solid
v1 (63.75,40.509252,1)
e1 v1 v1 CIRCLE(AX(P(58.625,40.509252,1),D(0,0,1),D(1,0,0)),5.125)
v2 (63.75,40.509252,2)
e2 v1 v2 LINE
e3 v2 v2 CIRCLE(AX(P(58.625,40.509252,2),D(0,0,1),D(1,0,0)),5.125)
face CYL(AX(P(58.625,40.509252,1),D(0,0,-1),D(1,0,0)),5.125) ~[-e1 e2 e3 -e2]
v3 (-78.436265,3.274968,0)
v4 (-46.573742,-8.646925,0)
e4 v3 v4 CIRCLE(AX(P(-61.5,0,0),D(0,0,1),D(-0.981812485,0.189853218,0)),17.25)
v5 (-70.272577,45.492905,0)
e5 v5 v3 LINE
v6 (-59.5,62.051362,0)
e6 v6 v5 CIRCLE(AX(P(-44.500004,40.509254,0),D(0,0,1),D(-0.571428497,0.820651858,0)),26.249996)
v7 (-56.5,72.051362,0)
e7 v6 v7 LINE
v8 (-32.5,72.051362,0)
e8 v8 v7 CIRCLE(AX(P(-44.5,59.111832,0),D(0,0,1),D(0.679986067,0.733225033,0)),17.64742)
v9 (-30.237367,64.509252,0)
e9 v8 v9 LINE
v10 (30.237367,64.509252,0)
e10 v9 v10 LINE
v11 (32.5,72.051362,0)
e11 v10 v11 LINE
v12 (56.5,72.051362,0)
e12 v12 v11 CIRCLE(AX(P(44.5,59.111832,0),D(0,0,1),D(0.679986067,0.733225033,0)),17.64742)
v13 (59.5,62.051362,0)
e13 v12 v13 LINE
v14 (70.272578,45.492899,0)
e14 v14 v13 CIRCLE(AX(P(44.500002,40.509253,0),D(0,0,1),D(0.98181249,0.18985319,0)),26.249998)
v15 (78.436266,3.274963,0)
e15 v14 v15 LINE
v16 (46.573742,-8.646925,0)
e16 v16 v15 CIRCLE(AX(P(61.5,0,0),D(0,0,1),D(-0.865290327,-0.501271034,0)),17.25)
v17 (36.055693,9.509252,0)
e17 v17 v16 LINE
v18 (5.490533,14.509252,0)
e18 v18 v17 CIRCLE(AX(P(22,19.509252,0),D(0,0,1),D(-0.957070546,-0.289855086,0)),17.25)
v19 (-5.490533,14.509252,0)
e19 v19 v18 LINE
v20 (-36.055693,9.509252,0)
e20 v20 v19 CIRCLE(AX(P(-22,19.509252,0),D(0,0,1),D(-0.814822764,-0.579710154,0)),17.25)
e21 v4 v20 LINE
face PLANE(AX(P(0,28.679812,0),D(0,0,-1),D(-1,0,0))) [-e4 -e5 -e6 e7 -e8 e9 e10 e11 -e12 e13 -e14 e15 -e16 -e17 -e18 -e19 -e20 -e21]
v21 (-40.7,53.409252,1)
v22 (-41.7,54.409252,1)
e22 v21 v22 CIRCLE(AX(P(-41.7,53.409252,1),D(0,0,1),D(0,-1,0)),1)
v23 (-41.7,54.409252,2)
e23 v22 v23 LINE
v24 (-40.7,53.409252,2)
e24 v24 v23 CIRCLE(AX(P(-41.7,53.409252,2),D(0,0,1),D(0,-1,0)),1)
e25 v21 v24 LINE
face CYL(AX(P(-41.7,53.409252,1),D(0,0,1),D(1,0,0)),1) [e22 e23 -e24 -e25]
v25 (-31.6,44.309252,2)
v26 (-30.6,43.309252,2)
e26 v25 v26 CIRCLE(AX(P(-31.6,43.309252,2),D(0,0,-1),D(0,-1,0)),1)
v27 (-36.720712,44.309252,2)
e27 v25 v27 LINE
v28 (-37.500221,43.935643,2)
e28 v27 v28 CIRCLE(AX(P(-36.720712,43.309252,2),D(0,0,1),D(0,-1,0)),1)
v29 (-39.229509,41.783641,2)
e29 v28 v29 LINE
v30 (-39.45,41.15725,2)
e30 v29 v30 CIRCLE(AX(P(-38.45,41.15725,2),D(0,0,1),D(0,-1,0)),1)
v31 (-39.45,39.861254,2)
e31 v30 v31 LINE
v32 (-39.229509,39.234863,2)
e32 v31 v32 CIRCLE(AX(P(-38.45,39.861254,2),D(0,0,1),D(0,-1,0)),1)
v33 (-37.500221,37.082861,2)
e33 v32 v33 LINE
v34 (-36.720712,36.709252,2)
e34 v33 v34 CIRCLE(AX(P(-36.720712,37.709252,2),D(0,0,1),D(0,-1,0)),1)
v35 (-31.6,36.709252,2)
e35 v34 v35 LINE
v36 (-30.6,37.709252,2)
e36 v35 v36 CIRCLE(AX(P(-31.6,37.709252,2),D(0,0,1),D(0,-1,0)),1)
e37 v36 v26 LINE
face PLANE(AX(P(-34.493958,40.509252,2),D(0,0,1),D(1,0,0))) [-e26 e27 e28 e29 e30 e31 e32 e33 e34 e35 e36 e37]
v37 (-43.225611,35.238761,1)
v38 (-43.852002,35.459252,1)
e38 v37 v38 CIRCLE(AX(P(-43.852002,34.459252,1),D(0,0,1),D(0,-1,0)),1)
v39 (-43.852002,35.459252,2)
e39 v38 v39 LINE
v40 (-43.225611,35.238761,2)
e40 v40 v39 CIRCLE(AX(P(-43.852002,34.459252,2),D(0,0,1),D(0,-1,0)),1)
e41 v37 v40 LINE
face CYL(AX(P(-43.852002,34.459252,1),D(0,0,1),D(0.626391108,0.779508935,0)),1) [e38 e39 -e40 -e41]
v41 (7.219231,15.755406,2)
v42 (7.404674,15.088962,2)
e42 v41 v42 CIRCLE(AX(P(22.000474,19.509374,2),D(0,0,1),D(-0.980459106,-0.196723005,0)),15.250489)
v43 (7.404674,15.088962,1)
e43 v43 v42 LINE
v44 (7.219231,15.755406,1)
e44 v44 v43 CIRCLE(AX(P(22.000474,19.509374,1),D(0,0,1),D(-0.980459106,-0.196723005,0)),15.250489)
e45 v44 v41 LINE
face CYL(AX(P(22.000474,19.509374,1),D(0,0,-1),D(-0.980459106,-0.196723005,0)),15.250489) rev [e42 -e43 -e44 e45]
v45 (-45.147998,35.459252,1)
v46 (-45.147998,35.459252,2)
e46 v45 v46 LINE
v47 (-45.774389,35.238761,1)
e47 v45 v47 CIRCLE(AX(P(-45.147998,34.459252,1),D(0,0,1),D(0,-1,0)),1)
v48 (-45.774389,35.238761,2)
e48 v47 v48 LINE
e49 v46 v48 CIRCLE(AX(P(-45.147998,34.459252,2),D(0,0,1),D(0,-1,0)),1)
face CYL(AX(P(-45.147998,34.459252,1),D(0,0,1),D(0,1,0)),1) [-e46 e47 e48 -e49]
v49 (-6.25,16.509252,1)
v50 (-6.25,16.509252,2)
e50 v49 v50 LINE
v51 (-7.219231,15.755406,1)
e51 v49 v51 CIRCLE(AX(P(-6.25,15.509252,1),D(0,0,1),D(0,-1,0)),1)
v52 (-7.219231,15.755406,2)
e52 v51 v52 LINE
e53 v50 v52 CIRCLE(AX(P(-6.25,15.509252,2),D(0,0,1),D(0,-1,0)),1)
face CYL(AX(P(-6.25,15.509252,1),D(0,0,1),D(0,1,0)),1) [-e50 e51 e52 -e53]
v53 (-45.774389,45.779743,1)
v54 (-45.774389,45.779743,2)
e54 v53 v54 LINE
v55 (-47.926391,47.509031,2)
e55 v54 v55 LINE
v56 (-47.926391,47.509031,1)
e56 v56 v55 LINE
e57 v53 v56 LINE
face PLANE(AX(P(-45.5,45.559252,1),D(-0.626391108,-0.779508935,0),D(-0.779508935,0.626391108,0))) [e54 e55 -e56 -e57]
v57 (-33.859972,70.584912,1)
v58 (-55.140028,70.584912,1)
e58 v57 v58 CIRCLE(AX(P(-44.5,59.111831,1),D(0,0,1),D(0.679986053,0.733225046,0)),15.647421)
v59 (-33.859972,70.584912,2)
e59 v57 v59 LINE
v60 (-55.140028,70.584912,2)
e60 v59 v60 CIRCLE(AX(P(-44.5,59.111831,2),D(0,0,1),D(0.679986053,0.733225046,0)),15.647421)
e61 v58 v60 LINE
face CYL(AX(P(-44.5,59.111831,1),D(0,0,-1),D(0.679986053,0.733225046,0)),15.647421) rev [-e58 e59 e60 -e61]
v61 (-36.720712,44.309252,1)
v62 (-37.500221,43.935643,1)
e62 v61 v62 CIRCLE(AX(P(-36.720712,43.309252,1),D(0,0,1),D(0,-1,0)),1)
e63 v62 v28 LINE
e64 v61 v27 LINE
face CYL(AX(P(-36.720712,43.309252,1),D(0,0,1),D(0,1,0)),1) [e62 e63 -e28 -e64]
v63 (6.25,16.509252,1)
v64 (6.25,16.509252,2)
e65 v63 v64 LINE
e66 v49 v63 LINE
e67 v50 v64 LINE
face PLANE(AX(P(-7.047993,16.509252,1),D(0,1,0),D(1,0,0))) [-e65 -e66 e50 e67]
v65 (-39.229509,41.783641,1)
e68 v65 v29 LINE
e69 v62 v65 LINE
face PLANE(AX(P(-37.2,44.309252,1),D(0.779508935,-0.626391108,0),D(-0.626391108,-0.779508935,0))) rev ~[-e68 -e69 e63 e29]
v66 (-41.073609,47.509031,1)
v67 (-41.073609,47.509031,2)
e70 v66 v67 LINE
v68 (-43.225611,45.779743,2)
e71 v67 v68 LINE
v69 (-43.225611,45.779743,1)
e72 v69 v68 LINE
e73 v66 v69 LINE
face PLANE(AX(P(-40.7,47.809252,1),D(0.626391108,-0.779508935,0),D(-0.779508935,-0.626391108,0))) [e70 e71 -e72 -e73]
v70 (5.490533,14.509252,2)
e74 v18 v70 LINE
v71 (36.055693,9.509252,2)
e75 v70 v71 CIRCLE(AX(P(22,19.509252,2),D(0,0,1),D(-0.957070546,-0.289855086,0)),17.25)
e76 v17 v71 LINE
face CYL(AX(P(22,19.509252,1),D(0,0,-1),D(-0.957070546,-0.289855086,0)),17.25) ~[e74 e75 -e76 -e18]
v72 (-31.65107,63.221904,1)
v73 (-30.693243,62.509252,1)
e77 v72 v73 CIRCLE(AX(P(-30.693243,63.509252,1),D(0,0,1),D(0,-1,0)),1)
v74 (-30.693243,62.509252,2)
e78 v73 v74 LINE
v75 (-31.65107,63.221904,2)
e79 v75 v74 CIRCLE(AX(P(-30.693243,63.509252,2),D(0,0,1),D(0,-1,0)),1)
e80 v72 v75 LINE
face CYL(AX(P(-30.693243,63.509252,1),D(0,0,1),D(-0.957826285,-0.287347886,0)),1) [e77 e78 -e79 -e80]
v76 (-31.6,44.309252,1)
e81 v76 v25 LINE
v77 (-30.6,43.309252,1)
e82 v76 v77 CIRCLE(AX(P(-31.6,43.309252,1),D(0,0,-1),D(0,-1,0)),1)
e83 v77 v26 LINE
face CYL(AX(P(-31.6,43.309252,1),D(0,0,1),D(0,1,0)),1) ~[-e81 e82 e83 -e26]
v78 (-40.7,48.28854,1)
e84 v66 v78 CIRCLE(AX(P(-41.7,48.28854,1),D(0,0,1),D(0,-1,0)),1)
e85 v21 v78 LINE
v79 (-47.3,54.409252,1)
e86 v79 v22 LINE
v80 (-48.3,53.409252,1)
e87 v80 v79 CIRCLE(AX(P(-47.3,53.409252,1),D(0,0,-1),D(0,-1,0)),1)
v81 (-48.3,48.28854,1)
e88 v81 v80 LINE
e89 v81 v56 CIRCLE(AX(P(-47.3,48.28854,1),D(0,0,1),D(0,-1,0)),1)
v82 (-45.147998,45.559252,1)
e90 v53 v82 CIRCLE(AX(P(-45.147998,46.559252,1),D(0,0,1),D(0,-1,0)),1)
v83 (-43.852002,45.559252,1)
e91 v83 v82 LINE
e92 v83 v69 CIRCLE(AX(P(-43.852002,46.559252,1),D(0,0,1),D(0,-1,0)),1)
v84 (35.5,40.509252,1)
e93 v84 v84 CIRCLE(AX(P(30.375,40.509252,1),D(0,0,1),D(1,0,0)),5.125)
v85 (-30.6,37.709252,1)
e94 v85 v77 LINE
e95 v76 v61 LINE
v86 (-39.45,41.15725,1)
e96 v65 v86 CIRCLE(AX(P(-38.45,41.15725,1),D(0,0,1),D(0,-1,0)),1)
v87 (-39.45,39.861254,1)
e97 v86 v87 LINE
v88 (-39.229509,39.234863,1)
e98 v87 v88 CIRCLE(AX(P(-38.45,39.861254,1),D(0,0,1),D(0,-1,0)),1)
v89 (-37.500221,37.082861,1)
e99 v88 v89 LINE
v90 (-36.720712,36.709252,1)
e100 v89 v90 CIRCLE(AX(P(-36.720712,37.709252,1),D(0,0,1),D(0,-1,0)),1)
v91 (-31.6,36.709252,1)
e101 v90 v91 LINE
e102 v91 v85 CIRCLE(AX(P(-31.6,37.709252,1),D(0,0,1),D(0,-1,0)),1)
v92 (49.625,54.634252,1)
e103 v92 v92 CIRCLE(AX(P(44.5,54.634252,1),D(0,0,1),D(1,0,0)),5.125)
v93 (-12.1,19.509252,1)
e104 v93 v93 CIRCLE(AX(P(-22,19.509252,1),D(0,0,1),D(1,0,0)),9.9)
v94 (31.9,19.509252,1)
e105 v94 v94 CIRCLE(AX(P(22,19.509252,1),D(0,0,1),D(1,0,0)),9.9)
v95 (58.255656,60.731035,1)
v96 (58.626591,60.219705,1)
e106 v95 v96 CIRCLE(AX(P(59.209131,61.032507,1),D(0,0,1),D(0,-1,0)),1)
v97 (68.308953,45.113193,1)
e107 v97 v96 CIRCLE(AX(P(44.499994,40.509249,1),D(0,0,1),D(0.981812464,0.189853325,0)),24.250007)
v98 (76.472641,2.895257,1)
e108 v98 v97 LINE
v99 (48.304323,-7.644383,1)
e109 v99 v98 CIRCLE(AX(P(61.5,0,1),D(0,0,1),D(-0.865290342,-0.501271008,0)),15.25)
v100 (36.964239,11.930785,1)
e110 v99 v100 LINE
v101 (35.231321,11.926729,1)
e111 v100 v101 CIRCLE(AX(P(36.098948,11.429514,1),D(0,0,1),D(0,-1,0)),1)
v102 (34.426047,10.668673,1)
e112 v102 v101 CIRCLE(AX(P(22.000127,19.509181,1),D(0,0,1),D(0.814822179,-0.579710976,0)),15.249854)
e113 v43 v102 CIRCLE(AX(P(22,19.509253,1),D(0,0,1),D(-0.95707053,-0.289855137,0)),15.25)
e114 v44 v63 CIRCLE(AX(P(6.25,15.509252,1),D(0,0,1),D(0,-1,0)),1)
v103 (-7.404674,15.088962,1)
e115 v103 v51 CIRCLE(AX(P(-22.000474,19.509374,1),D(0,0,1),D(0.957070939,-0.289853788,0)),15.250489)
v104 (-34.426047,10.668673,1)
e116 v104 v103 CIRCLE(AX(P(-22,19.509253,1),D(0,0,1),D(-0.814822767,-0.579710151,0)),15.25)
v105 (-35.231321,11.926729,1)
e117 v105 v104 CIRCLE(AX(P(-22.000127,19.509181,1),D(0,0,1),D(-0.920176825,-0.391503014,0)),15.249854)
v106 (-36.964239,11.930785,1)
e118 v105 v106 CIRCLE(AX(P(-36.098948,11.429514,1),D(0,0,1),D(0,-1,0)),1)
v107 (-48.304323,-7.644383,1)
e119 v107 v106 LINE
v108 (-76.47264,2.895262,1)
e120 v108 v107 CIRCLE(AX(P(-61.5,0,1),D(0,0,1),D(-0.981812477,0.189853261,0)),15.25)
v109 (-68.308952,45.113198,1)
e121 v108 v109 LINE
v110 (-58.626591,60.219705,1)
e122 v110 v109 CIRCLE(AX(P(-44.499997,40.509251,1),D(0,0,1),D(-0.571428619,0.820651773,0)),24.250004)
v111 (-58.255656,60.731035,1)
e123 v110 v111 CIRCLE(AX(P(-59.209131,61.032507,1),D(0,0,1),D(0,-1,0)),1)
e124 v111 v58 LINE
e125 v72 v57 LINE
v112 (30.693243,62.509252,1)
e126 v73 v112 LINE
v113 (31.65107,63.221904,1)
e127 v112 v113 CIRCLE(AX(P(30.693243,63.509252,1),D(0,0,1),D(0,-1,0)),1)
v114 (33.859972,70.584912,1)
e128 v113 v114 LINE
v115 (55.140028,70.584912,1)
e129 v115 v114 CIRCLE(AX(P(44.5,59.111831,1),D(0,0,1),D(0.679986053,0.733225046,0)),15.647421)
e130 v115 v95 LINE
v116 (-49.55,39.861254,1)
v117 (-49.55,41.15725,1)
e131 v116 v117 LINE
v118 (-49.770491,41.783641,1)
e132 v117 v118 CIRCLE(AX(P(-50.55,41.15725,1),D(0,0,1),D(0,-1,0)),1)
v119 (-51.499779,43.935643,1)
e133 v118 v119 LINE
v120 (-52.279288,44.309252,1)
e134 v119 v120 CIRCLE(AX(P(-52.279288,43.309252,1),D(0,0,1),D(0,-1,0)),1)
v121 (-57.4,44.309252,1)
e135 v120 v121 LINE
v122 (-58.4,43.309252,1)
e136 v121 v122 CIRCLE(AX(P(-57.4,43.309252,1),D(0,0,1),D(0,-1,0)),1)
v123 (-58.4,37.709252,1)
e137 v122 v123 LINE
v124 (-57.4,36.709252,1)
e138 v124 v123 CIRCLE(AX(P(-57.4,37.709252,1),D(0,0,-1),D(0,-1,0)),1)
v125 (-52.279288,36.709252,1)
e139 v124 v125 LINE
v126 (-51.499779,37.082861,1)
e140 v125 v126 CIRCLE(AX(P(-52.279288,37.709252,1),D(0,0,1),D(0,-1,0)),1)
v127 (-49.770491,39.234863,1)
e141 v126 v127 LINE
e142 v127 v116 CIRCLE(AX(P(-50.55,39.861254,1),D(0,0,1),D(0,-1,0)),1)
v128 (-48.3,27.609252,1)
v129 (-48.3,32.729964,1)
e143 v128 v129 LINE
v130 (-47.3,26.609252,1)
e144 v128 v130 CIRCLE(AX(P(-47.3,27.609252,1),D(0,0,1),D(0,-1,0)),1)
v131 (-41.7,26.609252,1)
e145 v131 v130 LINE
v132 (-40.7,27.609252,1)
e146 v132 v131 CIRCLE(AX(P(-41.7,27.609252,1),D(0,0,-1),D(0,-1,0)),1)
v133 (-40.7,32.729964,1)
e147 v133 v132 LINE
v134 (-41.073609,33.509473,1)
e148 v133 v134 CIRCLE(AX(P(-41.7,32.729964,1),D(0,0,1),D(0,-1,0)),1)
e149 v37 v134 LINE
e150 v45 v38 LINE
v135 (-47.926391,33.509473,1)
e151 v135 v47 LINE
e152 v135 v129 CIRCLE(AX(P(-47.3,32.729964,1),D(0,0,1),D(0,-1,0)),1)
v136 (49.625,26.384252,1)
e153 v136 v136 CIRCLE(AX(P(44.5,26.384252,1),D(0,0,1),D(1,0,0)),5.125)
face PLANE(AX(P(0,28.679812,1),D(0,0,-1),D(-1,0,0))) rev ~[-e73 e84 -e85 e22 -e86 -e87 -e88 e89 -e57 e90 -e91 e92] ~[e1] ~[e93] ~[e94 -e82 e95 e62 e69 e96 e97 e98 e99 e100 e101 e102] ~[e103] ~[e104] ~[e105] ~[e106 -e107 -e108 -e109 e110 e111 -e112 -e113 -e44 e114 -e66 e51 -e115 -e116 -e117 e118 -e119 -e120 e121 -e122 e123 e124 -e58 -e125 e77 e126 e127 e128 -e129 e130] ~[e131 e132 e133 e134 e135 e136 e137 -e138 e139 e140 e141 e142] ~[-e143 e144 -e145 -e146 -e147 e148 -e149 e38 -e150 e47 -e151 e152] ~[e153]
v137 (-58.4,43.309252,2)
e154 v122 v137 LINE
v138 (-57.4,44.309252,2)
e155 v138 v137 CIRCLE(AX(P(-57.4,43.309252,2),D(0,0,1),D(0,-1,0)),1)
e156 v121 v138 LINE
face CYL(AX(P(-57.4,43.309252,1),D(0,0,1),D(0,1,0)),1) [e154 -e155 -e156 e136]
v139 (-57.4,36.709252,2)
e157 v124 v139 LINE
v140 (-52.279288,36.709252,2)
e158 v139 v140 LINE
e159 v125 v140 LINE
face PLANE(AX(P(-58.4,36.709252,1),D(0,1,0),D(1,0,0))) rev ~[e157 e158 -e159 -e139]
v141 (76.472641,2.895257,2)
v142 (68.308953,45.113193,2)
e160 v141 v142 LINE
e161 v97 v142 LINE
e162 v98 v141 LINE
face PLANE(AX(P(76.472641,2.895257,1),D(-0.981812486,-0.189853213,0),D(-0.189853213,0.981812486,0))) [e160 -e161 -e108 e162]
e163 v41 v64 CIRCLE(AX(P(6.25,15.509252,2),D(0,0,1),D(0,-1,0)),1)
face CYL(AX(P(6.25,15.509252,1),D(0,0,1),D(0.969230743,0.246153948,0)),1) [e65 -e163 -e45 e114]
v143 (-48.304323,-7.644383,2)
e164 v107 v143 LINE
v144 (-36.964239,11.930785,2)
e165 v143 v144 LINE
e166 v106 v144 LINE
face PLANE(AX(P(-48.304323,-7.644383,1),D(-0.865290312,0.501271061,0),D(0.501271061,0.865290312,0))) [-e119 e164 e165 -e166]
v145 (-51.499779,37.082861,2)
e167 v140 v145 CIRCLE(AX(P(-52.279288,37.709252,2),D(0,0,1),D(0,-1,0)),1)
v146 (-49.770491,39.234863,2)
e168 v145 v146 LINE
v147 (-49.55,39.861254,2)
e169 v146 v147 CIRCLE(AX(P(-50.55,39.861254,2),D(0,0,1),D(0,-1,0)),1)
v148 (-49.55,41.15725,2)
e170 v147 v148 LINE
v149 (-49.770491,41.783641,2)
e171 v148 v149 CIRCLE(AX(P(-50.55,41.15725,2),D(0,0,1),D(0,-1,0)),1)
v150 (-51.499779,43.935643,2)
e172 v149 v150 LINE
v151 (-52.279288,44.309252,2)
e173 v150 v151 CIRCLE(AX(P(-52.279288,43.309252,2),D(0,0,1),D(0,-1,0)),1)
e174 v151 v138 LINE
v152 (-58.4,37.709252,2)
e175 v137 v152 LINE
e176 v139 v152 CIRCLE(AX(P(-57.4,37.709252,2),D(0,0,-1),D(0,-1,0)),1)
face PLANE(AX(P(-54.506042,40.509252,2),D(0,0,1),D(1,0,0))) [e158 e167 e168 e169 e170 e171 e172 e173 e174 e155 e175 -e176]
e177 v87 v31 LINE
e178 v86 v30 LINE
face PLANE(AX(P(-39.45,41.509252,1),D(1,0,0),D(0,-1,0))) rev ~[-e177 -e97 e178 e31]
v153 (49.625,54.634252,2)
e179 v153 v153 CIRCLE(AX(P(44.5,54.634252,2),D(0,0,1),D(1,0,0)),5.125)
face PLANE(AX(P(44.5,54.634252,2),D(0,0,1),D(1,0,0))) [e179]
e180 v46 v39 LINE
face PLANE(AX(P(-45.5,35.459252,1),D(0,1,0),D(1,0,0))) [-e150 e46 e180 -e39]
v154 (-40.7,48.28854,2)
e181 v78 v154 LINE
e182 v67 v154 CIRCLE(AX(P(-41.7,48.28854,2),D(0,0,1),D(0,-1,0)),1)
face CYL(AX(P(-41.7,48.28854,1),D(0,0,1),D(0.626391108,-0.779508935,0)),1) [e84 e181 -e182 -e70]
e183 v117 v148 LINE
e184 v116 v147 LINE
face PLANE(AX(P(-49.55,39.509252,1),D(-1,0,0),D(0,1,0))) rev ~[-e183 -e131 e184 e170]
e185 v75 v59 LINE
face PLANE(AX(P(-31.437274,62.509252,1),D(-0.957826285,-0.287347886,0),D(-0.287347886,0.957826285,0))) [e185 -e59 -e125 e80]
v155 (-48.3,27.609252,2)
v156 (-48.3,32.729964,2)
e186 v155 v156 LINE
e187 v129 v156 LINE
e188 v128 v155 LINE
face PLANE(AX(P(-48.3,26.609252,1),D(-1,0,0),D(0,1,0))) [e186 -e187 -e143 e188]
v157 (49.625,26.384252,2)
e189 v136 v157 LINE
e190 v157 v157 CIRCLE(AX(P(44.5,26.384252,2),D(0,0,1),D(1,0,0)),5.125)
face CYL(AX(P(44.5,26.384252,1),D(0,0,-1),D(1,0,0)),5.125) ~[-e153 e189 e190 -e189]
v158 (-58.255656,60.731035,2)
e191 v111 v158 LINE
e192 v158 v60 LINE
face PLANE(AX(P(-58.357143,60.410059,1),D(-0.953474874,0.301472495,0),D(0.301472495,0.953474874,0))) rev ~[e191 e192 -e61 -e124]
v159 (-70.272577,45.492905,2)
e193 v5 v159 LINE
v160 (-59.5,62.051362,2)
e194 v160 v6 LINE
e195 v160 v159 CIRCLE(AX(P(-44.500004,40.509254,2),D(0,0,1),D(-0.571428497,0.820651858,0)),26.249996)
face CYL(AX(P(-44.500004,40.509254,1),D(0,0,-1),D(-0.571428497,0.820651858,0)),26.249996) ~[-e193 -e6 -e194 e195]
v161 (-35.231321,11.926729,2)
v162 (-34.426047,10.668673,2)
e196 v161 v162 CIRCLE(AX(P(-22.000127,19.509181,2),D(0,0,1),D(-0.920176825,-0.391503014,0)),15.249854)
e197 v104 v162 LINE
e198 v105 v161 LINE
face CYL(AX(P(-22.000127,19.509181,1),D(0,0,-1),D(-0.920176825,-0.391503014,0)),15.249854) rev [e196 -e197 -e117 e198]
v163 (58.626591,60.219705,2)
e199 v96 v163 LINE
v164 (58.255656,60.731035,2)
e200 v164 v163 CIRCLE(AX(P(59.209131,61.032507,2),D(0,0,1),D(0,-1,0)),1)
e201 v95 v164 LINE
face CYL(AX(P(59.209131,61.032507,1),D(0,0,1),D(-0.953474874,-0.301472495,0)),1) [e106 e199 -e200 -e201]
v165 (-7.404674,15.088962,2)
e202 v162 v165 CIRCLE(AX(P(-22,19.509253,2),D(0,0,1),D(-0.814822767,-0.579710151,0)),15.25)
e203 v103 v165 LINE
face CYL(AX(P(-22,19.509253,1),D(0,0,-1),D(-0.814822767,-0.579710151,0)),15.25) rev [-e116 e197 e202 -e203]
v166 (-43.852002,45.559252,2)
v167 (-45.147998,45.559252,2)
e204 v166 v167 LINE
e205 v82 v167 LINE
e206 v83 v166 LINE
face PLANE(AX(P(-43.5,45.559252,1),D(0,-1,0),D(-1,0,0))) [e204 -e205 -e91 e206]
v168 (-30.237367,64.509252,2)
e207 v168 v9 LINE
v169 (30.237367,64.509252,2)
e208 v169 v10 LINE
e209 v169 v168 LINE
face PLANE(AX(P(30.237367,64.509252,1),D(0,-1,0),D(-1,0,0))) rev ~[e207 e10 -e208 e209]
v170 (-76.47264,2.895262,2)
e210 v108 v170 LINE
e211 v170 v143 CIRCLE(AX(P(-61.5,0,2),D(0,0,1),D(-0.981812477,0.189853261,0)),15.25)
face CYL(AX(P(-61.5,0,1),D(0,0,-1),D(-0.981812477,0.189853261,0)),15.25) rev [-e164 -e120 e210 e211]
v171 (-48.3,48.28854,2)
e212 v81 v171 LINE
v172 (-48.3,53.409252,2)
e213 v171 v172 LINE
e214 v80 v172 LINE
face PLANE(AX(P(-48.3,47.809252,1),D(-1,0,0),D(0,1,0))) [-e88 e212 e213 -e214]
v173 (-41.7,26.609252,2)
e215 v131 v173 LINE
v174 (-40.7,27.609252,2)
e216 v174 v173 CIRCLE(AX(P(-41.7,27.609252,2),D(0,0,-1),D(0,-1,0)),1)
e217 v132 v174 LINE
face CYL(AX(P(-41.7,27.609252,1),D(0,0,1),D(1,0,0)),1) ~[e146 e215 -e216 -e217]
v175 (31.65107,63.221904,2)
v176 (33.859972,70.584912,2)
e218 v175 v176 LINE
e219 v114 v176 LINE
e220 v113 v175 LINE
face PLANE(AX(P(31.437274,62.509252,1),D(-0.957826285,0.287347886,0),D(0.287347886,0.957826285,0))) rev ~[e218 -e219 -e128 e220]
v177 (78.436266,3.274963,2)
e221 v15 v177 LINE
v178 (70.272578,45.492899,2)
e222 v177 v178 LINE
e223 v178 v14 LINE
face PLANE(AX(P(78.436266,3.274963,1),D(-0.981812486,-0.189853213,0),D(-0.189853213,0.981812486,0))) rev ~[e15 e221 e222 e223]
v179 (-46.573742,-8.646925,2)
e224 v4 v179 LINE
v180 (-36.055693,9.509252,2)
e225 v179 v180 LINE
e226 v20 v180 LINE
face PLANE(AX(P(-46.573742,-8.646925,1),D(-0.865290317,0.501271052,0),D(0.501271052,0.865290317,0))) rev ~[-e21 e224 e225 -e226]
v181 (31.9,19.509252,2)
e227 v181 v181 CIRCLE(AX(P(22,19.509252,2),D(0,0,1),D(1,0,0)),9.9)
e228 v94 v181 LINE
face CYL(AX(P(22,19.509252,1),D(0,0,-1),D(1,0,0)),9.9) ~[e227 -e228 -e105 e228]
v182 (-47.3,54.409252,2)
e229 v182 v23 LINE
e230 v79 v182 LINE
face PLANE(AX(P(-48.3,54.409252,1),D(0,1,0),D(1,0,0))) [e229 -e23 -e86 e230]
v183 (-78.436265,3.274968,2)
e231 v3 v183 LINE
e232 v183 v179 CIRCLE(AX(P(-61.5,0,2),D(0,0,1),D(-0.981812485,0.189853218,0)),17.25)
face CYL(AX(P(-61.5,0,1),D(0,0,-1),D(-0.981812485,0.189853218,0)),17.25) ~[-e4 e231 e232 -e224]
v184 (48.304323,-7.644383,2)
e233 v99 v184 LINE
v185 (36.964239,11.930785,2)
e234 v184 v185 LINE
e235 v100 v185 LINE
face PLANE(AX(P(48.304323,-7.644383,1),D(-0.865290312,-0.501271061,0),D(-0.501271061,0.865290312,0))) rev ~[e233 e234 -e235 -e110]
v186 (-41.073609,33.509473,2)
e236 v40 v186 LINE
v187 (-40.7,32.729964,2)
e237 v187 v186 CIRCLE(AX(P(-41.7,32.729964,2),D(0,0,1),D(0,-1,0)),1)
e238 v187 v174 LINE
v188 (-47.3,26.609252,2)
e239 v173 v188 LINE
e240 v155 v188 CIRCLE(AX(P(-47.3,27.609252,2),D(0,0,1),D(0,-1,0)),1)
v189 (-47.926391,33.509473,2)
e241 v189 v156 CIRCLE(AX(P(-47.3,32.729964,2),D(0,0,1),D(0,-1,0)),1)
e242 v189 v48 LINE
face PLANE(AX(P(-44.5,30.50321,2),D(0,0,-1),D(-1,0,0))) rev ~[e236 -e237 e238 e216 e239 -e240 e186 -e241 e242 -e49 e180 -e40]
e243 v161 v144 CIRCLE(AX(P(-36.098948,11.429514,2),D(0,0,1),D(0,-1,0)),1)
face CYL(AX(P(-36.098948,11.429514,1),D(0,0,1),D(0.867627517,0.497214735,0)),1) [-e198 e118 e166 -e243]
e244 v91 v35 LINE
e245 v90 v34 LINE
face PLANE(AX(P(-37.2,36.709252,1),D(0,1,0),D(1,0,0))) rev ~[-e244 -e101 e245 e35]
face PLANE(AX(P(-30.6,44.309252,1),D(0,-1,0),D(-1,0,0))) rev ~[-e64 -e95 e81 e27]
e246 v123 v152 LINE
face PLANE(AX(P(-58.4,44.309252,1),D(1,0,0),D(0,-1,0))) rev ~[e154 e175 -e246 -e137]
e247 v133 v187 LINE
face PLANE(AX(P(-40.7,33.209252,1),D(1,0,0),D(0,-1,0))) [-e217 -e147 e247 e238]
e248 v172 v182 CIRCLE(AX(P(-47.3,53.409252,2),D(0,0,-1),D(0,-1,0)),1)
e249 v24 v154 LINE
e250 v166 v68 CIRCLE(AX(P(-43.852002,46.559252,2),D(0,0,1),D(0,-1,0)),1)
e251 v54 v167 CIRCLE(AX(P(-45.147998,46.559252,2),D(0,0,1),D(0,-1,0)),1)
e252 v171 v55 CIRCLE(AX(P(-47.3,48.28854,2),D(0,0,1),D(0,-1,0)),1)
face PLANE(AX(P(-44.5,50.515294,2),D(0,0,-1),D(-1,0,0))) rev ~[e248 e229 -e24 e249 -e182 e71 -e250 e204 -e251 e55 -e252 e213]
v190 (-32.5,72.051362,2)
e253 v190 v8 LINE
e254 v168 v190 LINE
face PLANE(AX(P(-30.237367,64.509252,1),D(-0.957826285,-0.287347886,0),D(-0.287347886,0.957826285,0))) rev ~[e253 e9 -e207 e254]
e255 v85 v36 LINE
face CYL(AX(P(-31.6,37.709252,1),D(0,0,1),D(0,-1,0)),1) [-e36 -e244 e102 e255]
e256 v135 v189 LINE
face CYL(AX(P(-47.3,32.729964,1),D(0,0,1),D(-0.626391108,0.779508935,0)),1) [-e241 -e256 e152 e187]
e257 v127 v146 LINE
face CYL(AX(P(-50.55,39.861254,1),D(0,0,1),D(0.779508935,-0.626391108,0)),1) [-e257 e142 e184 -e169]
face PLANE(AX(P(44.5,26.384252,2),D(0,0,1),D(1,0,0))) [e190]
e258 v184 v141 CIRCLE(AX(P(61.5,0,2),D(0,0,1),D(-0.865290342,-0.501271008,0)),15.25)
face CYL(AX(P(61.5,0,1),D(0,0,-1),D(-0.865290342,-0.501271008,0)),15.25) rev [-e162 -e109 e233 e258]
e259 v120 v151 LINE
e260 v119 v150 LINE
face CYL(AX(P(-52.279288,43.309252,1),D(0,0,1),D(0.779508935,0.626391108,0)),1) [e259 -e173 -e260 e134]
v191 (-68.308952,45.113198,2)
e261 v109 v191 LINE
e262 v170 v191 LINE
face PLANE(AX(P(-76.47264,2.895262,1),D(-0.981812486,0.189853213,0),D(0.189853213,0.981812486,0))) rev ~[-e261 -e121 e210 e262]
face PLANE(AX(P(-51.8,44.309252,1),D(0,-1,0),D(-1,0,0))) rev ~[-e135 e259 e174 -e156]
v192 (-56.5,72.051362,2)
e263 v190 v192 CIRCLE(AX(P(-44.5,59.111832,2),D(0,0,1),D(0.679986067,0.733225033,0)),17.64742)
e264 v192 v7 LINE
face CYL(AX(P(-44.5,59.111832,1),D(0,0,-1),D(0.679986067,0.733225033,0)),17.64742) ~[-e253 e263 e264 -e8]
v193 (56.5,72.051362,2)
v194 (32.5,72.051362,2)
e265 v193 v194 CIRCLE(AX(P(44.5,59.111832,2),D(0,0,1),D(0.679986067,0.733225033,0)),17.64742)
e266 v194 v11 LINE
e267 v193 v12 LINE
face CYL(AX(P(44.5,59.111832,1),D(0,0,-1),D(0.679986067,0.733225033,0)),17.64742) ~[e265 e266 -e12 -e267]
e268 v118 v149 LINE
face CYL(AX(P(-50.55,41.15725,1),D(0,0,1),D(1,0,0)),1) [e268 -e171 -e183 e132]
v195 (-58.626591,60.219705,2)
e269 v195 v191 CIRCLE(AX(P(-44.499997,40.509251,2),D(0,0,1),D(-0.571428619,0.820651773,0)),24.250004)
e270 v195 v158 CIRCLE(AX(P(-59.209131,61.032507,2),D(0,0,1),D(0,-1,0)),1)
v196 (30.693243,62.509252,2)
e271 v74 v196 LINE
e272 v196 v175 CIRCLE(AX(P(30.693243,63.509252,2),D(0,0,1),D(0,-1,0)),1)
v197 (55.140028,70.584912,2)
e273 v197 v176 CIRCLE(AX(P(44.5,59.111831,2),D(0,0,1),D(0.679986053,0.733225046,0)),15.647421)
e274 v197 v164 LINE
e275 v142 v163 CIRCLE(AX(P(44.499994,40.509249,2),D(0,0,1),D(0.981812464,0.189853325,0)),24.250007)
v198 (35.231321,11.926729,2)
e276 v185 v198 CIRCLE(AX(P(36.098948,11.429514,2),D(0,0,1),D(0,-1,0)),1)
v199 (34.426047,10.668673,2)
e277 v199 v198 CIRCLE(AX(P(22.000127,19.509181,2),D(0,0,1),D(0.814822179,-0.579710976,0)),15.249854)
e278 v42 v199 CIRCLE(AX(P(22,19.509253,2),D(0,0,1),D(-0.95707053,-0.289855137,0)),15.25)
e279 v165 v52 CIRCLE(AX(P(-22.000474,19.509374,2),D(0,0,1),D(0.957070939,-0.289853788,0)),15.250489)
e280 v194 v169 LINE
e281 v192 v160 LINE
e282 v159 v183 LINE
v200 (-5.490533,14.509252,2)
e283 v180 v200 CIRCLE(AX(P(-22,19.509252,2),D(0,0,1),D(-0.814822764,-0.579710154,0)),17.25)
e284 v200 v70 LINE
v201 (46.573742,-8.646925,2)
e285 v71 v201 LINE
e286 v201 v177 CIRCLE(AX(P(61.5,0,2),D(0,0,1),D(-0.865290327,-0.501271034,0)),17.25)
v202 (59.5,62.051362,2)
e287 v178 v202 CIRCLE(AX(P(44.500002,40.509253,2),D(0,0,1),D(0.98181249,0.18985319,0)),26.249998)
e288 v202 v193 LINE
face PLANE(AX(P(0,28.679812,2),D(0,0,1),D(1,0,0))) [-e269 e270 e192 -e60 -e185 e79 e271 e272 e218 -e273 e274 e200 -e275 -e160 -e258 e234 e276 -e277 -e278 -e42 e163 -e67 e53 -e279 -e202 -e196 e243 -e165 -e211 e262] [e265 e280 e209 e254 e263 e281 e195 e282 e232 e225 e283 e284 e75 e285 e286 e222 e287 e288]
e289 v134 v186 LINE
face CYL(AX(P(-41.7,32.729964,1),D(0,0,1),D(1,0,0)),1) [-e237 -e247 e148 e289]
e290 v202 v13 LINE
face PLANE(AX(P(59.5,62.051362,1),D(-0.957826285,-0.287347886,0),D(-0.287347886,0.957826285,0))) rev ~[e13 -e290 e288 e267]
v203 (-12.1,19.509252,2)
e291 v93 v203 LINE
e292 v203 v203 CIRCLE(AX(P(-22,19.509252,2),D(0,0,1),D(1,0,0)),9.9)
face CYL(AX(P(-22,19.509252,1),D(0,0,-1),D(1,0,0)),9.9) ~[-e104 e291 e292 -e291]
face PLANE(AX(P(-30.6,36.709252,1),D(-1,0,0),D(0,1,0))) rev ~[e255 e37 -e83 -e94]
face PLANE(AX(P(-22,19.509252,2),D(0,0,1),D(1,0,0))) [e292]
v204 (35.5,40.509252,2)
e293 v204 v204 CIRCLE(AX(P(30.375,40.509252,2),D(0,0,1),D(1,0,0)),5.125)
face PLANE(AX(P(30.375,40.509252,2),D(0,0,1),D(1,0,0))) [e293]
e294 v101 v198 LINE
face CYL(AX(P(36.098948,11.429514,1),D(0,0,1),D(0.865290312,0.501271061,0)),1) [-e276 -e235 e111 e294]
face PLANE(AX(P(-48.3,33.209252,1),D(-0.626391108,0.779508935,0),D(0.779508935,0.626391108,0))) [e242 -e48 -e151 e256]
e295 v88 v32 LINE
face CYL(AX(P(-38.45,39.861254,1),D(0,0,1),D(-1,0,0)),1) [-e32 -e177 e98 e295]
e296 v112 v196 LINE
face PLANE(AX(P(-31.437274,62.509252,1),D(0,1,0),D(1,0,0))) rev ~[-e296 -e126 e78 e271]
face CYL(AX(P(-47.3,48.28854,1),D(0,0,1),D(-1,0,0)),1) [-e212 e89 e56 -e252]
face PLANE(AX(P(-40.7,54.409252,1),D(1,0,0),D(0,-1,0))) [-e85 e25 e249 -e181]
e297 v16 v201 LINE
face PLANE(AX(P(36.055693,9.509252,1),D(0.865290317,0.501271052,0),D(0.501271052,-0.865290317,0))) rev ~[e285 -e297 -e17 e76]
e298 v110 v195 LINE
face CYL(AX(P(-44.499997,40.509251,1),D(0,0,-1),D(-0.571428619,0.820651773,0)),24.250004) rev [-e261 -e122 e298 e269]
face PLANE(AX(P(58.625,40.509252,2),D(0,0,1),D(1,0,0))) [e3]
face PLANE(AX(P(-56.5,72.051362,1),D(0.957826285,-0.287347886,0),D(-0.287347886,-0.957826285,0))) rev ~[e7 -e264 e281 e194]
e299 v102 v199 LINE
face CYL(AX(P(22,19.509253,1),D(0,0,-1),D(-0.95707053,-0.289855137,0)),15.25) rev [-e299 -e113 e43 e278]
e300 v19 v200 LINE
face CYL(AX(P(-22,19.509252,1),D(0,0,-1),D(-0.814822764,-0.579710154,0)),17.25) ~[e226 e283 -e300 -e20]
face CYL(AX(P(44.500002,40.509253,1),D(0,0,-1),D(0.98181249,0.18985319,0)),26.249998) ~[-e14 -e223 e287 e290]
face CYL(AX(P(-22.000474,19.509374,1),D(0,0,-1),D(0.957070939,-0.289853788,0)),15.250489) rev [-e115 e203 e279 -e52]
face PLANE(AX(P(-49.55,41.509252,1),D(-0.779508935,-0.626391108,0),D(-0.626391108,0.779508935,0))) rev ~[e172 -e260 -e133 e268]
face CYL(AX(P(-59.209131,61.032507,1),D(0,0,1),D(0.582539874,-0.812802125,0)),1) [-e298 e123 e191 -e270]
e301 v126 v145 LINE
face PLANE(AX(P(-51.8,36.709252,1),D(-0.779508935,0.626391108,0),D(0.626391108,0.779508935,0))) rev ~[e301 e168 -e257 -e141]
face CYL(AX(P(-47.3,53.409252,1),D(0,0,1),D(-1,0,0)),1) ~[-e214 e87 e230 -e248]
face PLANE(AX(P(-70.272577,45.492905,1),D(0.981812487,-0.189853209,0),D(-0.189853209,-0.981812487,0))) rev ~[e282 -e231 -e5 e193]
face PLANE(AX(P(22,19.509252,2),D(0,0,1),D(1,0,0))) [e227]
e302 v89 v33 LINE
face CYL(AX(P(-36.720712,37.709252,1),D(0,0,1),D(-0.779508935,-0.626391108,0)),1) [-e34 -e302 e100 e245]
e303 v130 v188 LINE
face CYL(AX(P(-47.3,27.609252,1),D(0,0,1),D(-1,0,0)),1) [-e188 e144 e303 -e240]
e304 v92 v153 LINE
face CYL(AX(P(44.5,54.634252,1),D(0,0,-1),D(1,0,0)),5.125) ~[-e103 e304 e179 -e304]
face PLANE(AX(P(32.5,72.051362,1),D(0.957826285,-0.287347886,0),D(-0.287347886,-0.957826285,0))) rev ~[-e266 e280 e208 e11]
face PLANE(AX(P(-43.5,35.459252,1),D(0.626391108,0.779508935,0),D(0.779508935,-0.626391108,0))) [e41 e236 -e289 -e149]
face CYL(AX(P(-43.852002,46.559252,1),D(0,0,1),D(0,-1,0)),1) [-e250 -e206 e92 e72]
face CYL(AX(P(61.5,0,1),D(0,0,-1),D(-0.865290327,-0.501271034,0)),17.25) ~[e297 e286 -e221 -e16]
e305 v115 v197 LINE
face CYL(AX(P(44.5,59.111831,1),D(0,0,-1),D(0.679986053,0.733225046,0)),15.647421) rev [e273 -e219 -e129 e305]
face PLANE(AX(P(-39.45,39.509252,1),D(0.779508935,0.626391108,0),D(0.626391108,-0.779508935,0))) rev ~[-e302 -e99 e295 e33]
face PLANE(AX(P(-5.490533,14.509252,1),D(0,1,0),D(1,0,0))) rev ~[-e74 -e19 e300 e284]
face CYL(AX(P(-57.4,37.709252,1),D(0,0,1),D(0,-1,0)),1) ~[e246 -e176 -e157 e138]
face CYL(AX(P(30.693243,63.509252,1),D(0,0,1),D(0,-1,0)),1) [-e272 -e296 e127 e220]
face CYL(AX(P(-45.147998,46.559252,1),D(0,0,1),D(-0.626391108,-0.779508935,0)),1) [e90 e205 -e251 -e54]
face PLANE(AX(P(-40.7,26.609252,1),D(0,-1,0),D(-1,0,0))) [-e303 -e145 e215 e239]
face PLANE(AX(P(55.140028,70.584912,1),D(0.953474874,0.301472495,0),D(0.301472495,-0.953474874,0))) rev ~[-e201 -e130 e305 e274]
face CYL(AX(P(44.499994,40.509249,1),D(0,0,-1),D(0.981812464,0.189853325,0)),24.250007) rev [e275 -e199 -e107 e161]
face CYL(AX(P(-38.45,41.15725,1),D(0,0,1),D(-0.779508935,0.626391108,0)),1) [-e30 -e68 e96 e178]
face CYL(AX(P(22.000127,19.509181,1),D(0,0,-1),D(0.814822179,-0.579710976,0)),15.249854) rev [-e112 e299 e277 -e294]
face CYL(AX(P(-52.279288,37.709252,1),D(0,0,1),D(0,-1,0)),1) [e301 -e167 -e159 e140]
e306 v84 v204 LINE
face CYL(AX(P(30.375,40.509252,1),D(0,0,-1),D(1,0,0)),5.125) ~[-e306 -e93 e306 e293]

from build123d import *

# Parameters (mm, degrees)
PAD_DEPTH     = 1
SKETCH001_R   = 5.125
SKETCH001_R_2 = 9.9
PAD001_DEPTH  = 1
FILLET_R      = 1


with BuildPart() as part:
    # Sketch → Pad (new body)
    with BuildSketch(Plane.XY):
        with BuildLine():
            Line((70.272578, 45.492899), (78.436266, 3.274963))
            ThreePointArc((46.573742, -8.646925), (67.545071, -16.156101), (78.436266, 3.274963))
            Line((36.055693, 9.509252), (46.573742, -8.646925))
            ThreePointArc((5.490533, 14.509252), (19.215175, 2.485526), (36.055693, 9.509252))
            Line((-5.490533, 14.509252), (5.490533, 14.509252))
            ThreePointArc((-36.055693, 9.509252), (-19.215175, 2.485526), (-5.490533, 14.509252))
            Line((-46.573742, -8.646925), (-36.055693, 9.509252))
            ThreePointArc((-78.436265, 3.274968), (-67.545074, -16.1561), (-46.573742, -8.646925))
            Line((-70.272577, 45.492905), (-78.436265, 3.274968))
            ThreePointArc((-59.5, 62.051362), (-66.503327, 54.824144), (-70.272577, 45.492905))
            Line((-59.5, 62.051362), (-56.5, 72.051362))
            ThreePointArc((-32.5, 72.051362), (-44.5, 76.759252), (-56.5, 72.051362))
            Line((-32.5, 72.051362), (-30.237367, 64.509252))
            Line((-30.237367, 64.509252), (30.237367, 64.509252))
            Line((30.237367, 64.509252), (32.5, 72.051362))
            ThreePointArc((56.5, 72.051362), (44.5, 76.759252), (32.5, 72.051362))
            Line((56.5, 72.051362), (59.5, 62.051362))
            ThreePointArc((70.272578, 45.492899), (66.503328, 54.824142), (59.5, 62.051362))
        make_face()
    extrude(amount=PAD_DEPTH)

    # Sketch001 (on Face20 of Pad) → Pad001 (join)
    with BuildSketch(Plane.XY.offset(1)):
        with BuildLine():
            ThreePointArc((-59.5, 62.051362), (-66.503327, 54.824144), (-70.272577, 45.492905))
            Line((-70.272577, 45.492905), (-78.436265, 3.274968))
            ThreePointArc((-78.436265, 3.274968), (-67.545074, -16.1561), (-46.573742, -8.646925))
            Line((-46.573742, -8.646925), (-36.055693, 9.509252))
            ThreePointArc((-36.055693, 9.509252), (-19.215175, 2.485526), (-5.490533, 14.509252))
            Line((-5.490533, 14.509252), (5.490533, 14.509252))
            ThreePointArc((5.490533, 14.509252), (19.215175, 2.485526), (36.055693, 9.509252))
            Line((36.055693, 9.509252), (46.573742, -8.646925))
            ThreePointArc((46.573742, -8.646925), (67.545071, -16.156101), (78.436266, 3.274963))
            Line((78.436266, 3.274963), (70.272578, 45.492899))
            ThreePointArc((70.272578, 45.492899), (66.503328, 54.824142), (59.5, 62.051362))
            Line((59.5, 62.051362), (56.5, 72.051362))
            ThreePointArc((56.5, 72.051362), (44.5, 76.759252), (32.5, 72.051362))
            Line((32.5, 72.051362), (30.237367, 64.509252))
            Line((30.237367, 64.509252), (-30.237367, 64.509252))
            Line((-30.237367, 64.509252), (-32.5, 72.051362))
            ThreePointArc((-32.5, 72.051362), (-44.5, 76.759252), (-56.5, 72.051362))
            Line((-56.5, 72.051362), (-59.5, 62.051362))
        make_face()
        with BuildLine():
            ThreePointArc((55.140028, 70.584912), (44.5, 74.759252), (33.859972, 70.584912))
            Line((31.437274, 62.509252), (33.859972, 70.584912))
            Line((-31.437274, 62.509252), (31.437274, 62.509252))
            Line((-31.437274, 62.509252), (-33.859972, 70.584912))
            ThreePointArc((-33.859972, 70.584912), (-44.5, 74.759252), (-55.140028, 70.584912))
            Line((-58.357143, 60.410059), (-55.140028, 70.584912))
            ThreePointArc((-58.357143, 60.410059), (-64.826883, 53.733485), (-68.308952, 45.113198))
            Line((-76.47264, 2.895262), (-68.308952, 45.113198))
            ThreePointArc((-76.47264, 2.895262), (-66.844196, -14.282929), (-48.304323, -7.644383))
            Line((-48.304323, -7.644383), (-36.03269, 13.538817))
            ThreePointArc((-36.03269, 13.538817), (-35.306977, 12.060301), (-34.426047, 10.668673))
            ThreePointArc((-34.426047, 10.668673), (-19.538053, 4.459292), (-7.404674, 15.088962))
            ThreePointArc((-7.404674, 15.088962), (-7.209276, 15.794824), (-7.047993, 16.509252))
            Line((-7.047993, 16.509252), (7.047993, 16.509252))
            ThreePointArc((7.047993, 16.509252), (7.209276, 15.794824), (7.404674, 15.088962))
            ThreePointArc((7.404674, 15.088962), (19.538053, 4.459292), (34.426047, 10.668673))
            ThreePointArc((34.426047, 10.668673), (35.306977, 12.060301), (36.03269, 13.538817))
            Line((48.304323, -7.644383), (36.03269, 13.538817))
            ThreePointArc((48.304323, -7.644383), (66.844194, -14.28293), (76.472641, 2.895257))
            Line((76.472641, 2.895257), (68.308953, 45.113193))
            ThreePointArc((68.308953, 45.113193), (64.826884, 53.733483), (58.357143, 60.410059))
            Line((55.140028, 70.584912), (58.357143, 60.410059))
        make_face(mode=Mode.SUBTRACT)
        with Locations((30.375, 40.509252)):
            Circle(SKETCH001_R)
        with Locations((44.5, 54.634252)):
            Circle(SKETCH001_R)
        with Locations((58.625, 40.509252)):
            Circle(SKETCH001_R)
        with Locations((44.5, 26.384252)):
            Circle(SKETCH001_R)
        with Locations((-22, 19.509252)):
            Circle(SKETCH001_R_2)
        with Locations((22, 19.509252)):
            Circle(SKETCH001_R_2)
        Polygon((-58.4, 36.709252), (-51.8, 36.709252), (-49.55, 39.509252), (-49.55, 41.509252), (-51.8, 44.309252), (-58.4, 44.309252), align=None)
        Polygon((-40.7, 26.609252), (-48.3, 26.609252), (-48.3, 33.209252), (-45.5, 35.459252), (-43.5, 35.459252), (-40.7, 33.209252), align=None)
        Polygon((-30.6, 44.309252), (-37.2, 44.309252), (-39.45, 41.509252), (-39.45, 39.509252), (-37.2, 36.709252), (-30.6, 36.709252), align=None)
        Polygon((-48.3, 54.409252), (-40.7, 54.409252), (-40.7, 47.809252), (-43.5, 45.559252), (-45.5, 45.559252), (-48.3, 47.809252), align=None)
    extrude(amount=PAD001_DEPTH)

    # Fillet
    fillet_edges = [part.edges().sort_by_distance(p)[0] for p in [
        (-36.03269, 13.538817, 1.5),
        (-48.3, 26.609252, 1.5),
        (-58.4, 36.709252, 1.5),
        (-58.4, 44.309252, 1.5),
        (-48.3, 54.409252, 1.5),
        (-31.437274, 62.509252, 1.5),
        (-40.7, 54.409252, 1.5),
        (-30.6, 44.309252, 1.5),
        (-30.6, 36.709252, 1.5),
        (-40.7, 26.609252, 1.5),
        (-7.047993, 16.509252, 1.5),
        (36.03269, 13.538817, 1.5),
        (31.437274, 62.509252, 1.5),
        (58.357143, 60.410059, 1.5),
        (7.047993, 16.509252, 1.5),
        (-58.357143, 60.410059, 1.5),
        (-37.2, 36.709252, 1.5),
        (-39.45, 39.509252, 1.5),
        (-43.5, 45.559252, 1.5),
        (-45.5, 45.559252, 1.5),
        (-48.3, 47.809252, 1.5),
        (-51.8, 36.709252, 1.5),
        (-48.3, 33.209252, 1.5),
        (-51.8, 44.309252, 1.5),
        (-49.55, 41.509252, 1.5),
        (-49.55, 39.509252, 1.5),
        (-45.5, 35.459252, 1.5),
        (-43.5, 35.459252, 1.5),
        (-40.7, 33.209252, 1.5),
        (-37.2, 44.309252, 1.5),
        (-40.7, 47.809252, 1.5),
        (-39.45, 41.509252, 1.5),
    ]]
    fillet(fillet_edges, radius=FILLET_R)


solid = part.part
